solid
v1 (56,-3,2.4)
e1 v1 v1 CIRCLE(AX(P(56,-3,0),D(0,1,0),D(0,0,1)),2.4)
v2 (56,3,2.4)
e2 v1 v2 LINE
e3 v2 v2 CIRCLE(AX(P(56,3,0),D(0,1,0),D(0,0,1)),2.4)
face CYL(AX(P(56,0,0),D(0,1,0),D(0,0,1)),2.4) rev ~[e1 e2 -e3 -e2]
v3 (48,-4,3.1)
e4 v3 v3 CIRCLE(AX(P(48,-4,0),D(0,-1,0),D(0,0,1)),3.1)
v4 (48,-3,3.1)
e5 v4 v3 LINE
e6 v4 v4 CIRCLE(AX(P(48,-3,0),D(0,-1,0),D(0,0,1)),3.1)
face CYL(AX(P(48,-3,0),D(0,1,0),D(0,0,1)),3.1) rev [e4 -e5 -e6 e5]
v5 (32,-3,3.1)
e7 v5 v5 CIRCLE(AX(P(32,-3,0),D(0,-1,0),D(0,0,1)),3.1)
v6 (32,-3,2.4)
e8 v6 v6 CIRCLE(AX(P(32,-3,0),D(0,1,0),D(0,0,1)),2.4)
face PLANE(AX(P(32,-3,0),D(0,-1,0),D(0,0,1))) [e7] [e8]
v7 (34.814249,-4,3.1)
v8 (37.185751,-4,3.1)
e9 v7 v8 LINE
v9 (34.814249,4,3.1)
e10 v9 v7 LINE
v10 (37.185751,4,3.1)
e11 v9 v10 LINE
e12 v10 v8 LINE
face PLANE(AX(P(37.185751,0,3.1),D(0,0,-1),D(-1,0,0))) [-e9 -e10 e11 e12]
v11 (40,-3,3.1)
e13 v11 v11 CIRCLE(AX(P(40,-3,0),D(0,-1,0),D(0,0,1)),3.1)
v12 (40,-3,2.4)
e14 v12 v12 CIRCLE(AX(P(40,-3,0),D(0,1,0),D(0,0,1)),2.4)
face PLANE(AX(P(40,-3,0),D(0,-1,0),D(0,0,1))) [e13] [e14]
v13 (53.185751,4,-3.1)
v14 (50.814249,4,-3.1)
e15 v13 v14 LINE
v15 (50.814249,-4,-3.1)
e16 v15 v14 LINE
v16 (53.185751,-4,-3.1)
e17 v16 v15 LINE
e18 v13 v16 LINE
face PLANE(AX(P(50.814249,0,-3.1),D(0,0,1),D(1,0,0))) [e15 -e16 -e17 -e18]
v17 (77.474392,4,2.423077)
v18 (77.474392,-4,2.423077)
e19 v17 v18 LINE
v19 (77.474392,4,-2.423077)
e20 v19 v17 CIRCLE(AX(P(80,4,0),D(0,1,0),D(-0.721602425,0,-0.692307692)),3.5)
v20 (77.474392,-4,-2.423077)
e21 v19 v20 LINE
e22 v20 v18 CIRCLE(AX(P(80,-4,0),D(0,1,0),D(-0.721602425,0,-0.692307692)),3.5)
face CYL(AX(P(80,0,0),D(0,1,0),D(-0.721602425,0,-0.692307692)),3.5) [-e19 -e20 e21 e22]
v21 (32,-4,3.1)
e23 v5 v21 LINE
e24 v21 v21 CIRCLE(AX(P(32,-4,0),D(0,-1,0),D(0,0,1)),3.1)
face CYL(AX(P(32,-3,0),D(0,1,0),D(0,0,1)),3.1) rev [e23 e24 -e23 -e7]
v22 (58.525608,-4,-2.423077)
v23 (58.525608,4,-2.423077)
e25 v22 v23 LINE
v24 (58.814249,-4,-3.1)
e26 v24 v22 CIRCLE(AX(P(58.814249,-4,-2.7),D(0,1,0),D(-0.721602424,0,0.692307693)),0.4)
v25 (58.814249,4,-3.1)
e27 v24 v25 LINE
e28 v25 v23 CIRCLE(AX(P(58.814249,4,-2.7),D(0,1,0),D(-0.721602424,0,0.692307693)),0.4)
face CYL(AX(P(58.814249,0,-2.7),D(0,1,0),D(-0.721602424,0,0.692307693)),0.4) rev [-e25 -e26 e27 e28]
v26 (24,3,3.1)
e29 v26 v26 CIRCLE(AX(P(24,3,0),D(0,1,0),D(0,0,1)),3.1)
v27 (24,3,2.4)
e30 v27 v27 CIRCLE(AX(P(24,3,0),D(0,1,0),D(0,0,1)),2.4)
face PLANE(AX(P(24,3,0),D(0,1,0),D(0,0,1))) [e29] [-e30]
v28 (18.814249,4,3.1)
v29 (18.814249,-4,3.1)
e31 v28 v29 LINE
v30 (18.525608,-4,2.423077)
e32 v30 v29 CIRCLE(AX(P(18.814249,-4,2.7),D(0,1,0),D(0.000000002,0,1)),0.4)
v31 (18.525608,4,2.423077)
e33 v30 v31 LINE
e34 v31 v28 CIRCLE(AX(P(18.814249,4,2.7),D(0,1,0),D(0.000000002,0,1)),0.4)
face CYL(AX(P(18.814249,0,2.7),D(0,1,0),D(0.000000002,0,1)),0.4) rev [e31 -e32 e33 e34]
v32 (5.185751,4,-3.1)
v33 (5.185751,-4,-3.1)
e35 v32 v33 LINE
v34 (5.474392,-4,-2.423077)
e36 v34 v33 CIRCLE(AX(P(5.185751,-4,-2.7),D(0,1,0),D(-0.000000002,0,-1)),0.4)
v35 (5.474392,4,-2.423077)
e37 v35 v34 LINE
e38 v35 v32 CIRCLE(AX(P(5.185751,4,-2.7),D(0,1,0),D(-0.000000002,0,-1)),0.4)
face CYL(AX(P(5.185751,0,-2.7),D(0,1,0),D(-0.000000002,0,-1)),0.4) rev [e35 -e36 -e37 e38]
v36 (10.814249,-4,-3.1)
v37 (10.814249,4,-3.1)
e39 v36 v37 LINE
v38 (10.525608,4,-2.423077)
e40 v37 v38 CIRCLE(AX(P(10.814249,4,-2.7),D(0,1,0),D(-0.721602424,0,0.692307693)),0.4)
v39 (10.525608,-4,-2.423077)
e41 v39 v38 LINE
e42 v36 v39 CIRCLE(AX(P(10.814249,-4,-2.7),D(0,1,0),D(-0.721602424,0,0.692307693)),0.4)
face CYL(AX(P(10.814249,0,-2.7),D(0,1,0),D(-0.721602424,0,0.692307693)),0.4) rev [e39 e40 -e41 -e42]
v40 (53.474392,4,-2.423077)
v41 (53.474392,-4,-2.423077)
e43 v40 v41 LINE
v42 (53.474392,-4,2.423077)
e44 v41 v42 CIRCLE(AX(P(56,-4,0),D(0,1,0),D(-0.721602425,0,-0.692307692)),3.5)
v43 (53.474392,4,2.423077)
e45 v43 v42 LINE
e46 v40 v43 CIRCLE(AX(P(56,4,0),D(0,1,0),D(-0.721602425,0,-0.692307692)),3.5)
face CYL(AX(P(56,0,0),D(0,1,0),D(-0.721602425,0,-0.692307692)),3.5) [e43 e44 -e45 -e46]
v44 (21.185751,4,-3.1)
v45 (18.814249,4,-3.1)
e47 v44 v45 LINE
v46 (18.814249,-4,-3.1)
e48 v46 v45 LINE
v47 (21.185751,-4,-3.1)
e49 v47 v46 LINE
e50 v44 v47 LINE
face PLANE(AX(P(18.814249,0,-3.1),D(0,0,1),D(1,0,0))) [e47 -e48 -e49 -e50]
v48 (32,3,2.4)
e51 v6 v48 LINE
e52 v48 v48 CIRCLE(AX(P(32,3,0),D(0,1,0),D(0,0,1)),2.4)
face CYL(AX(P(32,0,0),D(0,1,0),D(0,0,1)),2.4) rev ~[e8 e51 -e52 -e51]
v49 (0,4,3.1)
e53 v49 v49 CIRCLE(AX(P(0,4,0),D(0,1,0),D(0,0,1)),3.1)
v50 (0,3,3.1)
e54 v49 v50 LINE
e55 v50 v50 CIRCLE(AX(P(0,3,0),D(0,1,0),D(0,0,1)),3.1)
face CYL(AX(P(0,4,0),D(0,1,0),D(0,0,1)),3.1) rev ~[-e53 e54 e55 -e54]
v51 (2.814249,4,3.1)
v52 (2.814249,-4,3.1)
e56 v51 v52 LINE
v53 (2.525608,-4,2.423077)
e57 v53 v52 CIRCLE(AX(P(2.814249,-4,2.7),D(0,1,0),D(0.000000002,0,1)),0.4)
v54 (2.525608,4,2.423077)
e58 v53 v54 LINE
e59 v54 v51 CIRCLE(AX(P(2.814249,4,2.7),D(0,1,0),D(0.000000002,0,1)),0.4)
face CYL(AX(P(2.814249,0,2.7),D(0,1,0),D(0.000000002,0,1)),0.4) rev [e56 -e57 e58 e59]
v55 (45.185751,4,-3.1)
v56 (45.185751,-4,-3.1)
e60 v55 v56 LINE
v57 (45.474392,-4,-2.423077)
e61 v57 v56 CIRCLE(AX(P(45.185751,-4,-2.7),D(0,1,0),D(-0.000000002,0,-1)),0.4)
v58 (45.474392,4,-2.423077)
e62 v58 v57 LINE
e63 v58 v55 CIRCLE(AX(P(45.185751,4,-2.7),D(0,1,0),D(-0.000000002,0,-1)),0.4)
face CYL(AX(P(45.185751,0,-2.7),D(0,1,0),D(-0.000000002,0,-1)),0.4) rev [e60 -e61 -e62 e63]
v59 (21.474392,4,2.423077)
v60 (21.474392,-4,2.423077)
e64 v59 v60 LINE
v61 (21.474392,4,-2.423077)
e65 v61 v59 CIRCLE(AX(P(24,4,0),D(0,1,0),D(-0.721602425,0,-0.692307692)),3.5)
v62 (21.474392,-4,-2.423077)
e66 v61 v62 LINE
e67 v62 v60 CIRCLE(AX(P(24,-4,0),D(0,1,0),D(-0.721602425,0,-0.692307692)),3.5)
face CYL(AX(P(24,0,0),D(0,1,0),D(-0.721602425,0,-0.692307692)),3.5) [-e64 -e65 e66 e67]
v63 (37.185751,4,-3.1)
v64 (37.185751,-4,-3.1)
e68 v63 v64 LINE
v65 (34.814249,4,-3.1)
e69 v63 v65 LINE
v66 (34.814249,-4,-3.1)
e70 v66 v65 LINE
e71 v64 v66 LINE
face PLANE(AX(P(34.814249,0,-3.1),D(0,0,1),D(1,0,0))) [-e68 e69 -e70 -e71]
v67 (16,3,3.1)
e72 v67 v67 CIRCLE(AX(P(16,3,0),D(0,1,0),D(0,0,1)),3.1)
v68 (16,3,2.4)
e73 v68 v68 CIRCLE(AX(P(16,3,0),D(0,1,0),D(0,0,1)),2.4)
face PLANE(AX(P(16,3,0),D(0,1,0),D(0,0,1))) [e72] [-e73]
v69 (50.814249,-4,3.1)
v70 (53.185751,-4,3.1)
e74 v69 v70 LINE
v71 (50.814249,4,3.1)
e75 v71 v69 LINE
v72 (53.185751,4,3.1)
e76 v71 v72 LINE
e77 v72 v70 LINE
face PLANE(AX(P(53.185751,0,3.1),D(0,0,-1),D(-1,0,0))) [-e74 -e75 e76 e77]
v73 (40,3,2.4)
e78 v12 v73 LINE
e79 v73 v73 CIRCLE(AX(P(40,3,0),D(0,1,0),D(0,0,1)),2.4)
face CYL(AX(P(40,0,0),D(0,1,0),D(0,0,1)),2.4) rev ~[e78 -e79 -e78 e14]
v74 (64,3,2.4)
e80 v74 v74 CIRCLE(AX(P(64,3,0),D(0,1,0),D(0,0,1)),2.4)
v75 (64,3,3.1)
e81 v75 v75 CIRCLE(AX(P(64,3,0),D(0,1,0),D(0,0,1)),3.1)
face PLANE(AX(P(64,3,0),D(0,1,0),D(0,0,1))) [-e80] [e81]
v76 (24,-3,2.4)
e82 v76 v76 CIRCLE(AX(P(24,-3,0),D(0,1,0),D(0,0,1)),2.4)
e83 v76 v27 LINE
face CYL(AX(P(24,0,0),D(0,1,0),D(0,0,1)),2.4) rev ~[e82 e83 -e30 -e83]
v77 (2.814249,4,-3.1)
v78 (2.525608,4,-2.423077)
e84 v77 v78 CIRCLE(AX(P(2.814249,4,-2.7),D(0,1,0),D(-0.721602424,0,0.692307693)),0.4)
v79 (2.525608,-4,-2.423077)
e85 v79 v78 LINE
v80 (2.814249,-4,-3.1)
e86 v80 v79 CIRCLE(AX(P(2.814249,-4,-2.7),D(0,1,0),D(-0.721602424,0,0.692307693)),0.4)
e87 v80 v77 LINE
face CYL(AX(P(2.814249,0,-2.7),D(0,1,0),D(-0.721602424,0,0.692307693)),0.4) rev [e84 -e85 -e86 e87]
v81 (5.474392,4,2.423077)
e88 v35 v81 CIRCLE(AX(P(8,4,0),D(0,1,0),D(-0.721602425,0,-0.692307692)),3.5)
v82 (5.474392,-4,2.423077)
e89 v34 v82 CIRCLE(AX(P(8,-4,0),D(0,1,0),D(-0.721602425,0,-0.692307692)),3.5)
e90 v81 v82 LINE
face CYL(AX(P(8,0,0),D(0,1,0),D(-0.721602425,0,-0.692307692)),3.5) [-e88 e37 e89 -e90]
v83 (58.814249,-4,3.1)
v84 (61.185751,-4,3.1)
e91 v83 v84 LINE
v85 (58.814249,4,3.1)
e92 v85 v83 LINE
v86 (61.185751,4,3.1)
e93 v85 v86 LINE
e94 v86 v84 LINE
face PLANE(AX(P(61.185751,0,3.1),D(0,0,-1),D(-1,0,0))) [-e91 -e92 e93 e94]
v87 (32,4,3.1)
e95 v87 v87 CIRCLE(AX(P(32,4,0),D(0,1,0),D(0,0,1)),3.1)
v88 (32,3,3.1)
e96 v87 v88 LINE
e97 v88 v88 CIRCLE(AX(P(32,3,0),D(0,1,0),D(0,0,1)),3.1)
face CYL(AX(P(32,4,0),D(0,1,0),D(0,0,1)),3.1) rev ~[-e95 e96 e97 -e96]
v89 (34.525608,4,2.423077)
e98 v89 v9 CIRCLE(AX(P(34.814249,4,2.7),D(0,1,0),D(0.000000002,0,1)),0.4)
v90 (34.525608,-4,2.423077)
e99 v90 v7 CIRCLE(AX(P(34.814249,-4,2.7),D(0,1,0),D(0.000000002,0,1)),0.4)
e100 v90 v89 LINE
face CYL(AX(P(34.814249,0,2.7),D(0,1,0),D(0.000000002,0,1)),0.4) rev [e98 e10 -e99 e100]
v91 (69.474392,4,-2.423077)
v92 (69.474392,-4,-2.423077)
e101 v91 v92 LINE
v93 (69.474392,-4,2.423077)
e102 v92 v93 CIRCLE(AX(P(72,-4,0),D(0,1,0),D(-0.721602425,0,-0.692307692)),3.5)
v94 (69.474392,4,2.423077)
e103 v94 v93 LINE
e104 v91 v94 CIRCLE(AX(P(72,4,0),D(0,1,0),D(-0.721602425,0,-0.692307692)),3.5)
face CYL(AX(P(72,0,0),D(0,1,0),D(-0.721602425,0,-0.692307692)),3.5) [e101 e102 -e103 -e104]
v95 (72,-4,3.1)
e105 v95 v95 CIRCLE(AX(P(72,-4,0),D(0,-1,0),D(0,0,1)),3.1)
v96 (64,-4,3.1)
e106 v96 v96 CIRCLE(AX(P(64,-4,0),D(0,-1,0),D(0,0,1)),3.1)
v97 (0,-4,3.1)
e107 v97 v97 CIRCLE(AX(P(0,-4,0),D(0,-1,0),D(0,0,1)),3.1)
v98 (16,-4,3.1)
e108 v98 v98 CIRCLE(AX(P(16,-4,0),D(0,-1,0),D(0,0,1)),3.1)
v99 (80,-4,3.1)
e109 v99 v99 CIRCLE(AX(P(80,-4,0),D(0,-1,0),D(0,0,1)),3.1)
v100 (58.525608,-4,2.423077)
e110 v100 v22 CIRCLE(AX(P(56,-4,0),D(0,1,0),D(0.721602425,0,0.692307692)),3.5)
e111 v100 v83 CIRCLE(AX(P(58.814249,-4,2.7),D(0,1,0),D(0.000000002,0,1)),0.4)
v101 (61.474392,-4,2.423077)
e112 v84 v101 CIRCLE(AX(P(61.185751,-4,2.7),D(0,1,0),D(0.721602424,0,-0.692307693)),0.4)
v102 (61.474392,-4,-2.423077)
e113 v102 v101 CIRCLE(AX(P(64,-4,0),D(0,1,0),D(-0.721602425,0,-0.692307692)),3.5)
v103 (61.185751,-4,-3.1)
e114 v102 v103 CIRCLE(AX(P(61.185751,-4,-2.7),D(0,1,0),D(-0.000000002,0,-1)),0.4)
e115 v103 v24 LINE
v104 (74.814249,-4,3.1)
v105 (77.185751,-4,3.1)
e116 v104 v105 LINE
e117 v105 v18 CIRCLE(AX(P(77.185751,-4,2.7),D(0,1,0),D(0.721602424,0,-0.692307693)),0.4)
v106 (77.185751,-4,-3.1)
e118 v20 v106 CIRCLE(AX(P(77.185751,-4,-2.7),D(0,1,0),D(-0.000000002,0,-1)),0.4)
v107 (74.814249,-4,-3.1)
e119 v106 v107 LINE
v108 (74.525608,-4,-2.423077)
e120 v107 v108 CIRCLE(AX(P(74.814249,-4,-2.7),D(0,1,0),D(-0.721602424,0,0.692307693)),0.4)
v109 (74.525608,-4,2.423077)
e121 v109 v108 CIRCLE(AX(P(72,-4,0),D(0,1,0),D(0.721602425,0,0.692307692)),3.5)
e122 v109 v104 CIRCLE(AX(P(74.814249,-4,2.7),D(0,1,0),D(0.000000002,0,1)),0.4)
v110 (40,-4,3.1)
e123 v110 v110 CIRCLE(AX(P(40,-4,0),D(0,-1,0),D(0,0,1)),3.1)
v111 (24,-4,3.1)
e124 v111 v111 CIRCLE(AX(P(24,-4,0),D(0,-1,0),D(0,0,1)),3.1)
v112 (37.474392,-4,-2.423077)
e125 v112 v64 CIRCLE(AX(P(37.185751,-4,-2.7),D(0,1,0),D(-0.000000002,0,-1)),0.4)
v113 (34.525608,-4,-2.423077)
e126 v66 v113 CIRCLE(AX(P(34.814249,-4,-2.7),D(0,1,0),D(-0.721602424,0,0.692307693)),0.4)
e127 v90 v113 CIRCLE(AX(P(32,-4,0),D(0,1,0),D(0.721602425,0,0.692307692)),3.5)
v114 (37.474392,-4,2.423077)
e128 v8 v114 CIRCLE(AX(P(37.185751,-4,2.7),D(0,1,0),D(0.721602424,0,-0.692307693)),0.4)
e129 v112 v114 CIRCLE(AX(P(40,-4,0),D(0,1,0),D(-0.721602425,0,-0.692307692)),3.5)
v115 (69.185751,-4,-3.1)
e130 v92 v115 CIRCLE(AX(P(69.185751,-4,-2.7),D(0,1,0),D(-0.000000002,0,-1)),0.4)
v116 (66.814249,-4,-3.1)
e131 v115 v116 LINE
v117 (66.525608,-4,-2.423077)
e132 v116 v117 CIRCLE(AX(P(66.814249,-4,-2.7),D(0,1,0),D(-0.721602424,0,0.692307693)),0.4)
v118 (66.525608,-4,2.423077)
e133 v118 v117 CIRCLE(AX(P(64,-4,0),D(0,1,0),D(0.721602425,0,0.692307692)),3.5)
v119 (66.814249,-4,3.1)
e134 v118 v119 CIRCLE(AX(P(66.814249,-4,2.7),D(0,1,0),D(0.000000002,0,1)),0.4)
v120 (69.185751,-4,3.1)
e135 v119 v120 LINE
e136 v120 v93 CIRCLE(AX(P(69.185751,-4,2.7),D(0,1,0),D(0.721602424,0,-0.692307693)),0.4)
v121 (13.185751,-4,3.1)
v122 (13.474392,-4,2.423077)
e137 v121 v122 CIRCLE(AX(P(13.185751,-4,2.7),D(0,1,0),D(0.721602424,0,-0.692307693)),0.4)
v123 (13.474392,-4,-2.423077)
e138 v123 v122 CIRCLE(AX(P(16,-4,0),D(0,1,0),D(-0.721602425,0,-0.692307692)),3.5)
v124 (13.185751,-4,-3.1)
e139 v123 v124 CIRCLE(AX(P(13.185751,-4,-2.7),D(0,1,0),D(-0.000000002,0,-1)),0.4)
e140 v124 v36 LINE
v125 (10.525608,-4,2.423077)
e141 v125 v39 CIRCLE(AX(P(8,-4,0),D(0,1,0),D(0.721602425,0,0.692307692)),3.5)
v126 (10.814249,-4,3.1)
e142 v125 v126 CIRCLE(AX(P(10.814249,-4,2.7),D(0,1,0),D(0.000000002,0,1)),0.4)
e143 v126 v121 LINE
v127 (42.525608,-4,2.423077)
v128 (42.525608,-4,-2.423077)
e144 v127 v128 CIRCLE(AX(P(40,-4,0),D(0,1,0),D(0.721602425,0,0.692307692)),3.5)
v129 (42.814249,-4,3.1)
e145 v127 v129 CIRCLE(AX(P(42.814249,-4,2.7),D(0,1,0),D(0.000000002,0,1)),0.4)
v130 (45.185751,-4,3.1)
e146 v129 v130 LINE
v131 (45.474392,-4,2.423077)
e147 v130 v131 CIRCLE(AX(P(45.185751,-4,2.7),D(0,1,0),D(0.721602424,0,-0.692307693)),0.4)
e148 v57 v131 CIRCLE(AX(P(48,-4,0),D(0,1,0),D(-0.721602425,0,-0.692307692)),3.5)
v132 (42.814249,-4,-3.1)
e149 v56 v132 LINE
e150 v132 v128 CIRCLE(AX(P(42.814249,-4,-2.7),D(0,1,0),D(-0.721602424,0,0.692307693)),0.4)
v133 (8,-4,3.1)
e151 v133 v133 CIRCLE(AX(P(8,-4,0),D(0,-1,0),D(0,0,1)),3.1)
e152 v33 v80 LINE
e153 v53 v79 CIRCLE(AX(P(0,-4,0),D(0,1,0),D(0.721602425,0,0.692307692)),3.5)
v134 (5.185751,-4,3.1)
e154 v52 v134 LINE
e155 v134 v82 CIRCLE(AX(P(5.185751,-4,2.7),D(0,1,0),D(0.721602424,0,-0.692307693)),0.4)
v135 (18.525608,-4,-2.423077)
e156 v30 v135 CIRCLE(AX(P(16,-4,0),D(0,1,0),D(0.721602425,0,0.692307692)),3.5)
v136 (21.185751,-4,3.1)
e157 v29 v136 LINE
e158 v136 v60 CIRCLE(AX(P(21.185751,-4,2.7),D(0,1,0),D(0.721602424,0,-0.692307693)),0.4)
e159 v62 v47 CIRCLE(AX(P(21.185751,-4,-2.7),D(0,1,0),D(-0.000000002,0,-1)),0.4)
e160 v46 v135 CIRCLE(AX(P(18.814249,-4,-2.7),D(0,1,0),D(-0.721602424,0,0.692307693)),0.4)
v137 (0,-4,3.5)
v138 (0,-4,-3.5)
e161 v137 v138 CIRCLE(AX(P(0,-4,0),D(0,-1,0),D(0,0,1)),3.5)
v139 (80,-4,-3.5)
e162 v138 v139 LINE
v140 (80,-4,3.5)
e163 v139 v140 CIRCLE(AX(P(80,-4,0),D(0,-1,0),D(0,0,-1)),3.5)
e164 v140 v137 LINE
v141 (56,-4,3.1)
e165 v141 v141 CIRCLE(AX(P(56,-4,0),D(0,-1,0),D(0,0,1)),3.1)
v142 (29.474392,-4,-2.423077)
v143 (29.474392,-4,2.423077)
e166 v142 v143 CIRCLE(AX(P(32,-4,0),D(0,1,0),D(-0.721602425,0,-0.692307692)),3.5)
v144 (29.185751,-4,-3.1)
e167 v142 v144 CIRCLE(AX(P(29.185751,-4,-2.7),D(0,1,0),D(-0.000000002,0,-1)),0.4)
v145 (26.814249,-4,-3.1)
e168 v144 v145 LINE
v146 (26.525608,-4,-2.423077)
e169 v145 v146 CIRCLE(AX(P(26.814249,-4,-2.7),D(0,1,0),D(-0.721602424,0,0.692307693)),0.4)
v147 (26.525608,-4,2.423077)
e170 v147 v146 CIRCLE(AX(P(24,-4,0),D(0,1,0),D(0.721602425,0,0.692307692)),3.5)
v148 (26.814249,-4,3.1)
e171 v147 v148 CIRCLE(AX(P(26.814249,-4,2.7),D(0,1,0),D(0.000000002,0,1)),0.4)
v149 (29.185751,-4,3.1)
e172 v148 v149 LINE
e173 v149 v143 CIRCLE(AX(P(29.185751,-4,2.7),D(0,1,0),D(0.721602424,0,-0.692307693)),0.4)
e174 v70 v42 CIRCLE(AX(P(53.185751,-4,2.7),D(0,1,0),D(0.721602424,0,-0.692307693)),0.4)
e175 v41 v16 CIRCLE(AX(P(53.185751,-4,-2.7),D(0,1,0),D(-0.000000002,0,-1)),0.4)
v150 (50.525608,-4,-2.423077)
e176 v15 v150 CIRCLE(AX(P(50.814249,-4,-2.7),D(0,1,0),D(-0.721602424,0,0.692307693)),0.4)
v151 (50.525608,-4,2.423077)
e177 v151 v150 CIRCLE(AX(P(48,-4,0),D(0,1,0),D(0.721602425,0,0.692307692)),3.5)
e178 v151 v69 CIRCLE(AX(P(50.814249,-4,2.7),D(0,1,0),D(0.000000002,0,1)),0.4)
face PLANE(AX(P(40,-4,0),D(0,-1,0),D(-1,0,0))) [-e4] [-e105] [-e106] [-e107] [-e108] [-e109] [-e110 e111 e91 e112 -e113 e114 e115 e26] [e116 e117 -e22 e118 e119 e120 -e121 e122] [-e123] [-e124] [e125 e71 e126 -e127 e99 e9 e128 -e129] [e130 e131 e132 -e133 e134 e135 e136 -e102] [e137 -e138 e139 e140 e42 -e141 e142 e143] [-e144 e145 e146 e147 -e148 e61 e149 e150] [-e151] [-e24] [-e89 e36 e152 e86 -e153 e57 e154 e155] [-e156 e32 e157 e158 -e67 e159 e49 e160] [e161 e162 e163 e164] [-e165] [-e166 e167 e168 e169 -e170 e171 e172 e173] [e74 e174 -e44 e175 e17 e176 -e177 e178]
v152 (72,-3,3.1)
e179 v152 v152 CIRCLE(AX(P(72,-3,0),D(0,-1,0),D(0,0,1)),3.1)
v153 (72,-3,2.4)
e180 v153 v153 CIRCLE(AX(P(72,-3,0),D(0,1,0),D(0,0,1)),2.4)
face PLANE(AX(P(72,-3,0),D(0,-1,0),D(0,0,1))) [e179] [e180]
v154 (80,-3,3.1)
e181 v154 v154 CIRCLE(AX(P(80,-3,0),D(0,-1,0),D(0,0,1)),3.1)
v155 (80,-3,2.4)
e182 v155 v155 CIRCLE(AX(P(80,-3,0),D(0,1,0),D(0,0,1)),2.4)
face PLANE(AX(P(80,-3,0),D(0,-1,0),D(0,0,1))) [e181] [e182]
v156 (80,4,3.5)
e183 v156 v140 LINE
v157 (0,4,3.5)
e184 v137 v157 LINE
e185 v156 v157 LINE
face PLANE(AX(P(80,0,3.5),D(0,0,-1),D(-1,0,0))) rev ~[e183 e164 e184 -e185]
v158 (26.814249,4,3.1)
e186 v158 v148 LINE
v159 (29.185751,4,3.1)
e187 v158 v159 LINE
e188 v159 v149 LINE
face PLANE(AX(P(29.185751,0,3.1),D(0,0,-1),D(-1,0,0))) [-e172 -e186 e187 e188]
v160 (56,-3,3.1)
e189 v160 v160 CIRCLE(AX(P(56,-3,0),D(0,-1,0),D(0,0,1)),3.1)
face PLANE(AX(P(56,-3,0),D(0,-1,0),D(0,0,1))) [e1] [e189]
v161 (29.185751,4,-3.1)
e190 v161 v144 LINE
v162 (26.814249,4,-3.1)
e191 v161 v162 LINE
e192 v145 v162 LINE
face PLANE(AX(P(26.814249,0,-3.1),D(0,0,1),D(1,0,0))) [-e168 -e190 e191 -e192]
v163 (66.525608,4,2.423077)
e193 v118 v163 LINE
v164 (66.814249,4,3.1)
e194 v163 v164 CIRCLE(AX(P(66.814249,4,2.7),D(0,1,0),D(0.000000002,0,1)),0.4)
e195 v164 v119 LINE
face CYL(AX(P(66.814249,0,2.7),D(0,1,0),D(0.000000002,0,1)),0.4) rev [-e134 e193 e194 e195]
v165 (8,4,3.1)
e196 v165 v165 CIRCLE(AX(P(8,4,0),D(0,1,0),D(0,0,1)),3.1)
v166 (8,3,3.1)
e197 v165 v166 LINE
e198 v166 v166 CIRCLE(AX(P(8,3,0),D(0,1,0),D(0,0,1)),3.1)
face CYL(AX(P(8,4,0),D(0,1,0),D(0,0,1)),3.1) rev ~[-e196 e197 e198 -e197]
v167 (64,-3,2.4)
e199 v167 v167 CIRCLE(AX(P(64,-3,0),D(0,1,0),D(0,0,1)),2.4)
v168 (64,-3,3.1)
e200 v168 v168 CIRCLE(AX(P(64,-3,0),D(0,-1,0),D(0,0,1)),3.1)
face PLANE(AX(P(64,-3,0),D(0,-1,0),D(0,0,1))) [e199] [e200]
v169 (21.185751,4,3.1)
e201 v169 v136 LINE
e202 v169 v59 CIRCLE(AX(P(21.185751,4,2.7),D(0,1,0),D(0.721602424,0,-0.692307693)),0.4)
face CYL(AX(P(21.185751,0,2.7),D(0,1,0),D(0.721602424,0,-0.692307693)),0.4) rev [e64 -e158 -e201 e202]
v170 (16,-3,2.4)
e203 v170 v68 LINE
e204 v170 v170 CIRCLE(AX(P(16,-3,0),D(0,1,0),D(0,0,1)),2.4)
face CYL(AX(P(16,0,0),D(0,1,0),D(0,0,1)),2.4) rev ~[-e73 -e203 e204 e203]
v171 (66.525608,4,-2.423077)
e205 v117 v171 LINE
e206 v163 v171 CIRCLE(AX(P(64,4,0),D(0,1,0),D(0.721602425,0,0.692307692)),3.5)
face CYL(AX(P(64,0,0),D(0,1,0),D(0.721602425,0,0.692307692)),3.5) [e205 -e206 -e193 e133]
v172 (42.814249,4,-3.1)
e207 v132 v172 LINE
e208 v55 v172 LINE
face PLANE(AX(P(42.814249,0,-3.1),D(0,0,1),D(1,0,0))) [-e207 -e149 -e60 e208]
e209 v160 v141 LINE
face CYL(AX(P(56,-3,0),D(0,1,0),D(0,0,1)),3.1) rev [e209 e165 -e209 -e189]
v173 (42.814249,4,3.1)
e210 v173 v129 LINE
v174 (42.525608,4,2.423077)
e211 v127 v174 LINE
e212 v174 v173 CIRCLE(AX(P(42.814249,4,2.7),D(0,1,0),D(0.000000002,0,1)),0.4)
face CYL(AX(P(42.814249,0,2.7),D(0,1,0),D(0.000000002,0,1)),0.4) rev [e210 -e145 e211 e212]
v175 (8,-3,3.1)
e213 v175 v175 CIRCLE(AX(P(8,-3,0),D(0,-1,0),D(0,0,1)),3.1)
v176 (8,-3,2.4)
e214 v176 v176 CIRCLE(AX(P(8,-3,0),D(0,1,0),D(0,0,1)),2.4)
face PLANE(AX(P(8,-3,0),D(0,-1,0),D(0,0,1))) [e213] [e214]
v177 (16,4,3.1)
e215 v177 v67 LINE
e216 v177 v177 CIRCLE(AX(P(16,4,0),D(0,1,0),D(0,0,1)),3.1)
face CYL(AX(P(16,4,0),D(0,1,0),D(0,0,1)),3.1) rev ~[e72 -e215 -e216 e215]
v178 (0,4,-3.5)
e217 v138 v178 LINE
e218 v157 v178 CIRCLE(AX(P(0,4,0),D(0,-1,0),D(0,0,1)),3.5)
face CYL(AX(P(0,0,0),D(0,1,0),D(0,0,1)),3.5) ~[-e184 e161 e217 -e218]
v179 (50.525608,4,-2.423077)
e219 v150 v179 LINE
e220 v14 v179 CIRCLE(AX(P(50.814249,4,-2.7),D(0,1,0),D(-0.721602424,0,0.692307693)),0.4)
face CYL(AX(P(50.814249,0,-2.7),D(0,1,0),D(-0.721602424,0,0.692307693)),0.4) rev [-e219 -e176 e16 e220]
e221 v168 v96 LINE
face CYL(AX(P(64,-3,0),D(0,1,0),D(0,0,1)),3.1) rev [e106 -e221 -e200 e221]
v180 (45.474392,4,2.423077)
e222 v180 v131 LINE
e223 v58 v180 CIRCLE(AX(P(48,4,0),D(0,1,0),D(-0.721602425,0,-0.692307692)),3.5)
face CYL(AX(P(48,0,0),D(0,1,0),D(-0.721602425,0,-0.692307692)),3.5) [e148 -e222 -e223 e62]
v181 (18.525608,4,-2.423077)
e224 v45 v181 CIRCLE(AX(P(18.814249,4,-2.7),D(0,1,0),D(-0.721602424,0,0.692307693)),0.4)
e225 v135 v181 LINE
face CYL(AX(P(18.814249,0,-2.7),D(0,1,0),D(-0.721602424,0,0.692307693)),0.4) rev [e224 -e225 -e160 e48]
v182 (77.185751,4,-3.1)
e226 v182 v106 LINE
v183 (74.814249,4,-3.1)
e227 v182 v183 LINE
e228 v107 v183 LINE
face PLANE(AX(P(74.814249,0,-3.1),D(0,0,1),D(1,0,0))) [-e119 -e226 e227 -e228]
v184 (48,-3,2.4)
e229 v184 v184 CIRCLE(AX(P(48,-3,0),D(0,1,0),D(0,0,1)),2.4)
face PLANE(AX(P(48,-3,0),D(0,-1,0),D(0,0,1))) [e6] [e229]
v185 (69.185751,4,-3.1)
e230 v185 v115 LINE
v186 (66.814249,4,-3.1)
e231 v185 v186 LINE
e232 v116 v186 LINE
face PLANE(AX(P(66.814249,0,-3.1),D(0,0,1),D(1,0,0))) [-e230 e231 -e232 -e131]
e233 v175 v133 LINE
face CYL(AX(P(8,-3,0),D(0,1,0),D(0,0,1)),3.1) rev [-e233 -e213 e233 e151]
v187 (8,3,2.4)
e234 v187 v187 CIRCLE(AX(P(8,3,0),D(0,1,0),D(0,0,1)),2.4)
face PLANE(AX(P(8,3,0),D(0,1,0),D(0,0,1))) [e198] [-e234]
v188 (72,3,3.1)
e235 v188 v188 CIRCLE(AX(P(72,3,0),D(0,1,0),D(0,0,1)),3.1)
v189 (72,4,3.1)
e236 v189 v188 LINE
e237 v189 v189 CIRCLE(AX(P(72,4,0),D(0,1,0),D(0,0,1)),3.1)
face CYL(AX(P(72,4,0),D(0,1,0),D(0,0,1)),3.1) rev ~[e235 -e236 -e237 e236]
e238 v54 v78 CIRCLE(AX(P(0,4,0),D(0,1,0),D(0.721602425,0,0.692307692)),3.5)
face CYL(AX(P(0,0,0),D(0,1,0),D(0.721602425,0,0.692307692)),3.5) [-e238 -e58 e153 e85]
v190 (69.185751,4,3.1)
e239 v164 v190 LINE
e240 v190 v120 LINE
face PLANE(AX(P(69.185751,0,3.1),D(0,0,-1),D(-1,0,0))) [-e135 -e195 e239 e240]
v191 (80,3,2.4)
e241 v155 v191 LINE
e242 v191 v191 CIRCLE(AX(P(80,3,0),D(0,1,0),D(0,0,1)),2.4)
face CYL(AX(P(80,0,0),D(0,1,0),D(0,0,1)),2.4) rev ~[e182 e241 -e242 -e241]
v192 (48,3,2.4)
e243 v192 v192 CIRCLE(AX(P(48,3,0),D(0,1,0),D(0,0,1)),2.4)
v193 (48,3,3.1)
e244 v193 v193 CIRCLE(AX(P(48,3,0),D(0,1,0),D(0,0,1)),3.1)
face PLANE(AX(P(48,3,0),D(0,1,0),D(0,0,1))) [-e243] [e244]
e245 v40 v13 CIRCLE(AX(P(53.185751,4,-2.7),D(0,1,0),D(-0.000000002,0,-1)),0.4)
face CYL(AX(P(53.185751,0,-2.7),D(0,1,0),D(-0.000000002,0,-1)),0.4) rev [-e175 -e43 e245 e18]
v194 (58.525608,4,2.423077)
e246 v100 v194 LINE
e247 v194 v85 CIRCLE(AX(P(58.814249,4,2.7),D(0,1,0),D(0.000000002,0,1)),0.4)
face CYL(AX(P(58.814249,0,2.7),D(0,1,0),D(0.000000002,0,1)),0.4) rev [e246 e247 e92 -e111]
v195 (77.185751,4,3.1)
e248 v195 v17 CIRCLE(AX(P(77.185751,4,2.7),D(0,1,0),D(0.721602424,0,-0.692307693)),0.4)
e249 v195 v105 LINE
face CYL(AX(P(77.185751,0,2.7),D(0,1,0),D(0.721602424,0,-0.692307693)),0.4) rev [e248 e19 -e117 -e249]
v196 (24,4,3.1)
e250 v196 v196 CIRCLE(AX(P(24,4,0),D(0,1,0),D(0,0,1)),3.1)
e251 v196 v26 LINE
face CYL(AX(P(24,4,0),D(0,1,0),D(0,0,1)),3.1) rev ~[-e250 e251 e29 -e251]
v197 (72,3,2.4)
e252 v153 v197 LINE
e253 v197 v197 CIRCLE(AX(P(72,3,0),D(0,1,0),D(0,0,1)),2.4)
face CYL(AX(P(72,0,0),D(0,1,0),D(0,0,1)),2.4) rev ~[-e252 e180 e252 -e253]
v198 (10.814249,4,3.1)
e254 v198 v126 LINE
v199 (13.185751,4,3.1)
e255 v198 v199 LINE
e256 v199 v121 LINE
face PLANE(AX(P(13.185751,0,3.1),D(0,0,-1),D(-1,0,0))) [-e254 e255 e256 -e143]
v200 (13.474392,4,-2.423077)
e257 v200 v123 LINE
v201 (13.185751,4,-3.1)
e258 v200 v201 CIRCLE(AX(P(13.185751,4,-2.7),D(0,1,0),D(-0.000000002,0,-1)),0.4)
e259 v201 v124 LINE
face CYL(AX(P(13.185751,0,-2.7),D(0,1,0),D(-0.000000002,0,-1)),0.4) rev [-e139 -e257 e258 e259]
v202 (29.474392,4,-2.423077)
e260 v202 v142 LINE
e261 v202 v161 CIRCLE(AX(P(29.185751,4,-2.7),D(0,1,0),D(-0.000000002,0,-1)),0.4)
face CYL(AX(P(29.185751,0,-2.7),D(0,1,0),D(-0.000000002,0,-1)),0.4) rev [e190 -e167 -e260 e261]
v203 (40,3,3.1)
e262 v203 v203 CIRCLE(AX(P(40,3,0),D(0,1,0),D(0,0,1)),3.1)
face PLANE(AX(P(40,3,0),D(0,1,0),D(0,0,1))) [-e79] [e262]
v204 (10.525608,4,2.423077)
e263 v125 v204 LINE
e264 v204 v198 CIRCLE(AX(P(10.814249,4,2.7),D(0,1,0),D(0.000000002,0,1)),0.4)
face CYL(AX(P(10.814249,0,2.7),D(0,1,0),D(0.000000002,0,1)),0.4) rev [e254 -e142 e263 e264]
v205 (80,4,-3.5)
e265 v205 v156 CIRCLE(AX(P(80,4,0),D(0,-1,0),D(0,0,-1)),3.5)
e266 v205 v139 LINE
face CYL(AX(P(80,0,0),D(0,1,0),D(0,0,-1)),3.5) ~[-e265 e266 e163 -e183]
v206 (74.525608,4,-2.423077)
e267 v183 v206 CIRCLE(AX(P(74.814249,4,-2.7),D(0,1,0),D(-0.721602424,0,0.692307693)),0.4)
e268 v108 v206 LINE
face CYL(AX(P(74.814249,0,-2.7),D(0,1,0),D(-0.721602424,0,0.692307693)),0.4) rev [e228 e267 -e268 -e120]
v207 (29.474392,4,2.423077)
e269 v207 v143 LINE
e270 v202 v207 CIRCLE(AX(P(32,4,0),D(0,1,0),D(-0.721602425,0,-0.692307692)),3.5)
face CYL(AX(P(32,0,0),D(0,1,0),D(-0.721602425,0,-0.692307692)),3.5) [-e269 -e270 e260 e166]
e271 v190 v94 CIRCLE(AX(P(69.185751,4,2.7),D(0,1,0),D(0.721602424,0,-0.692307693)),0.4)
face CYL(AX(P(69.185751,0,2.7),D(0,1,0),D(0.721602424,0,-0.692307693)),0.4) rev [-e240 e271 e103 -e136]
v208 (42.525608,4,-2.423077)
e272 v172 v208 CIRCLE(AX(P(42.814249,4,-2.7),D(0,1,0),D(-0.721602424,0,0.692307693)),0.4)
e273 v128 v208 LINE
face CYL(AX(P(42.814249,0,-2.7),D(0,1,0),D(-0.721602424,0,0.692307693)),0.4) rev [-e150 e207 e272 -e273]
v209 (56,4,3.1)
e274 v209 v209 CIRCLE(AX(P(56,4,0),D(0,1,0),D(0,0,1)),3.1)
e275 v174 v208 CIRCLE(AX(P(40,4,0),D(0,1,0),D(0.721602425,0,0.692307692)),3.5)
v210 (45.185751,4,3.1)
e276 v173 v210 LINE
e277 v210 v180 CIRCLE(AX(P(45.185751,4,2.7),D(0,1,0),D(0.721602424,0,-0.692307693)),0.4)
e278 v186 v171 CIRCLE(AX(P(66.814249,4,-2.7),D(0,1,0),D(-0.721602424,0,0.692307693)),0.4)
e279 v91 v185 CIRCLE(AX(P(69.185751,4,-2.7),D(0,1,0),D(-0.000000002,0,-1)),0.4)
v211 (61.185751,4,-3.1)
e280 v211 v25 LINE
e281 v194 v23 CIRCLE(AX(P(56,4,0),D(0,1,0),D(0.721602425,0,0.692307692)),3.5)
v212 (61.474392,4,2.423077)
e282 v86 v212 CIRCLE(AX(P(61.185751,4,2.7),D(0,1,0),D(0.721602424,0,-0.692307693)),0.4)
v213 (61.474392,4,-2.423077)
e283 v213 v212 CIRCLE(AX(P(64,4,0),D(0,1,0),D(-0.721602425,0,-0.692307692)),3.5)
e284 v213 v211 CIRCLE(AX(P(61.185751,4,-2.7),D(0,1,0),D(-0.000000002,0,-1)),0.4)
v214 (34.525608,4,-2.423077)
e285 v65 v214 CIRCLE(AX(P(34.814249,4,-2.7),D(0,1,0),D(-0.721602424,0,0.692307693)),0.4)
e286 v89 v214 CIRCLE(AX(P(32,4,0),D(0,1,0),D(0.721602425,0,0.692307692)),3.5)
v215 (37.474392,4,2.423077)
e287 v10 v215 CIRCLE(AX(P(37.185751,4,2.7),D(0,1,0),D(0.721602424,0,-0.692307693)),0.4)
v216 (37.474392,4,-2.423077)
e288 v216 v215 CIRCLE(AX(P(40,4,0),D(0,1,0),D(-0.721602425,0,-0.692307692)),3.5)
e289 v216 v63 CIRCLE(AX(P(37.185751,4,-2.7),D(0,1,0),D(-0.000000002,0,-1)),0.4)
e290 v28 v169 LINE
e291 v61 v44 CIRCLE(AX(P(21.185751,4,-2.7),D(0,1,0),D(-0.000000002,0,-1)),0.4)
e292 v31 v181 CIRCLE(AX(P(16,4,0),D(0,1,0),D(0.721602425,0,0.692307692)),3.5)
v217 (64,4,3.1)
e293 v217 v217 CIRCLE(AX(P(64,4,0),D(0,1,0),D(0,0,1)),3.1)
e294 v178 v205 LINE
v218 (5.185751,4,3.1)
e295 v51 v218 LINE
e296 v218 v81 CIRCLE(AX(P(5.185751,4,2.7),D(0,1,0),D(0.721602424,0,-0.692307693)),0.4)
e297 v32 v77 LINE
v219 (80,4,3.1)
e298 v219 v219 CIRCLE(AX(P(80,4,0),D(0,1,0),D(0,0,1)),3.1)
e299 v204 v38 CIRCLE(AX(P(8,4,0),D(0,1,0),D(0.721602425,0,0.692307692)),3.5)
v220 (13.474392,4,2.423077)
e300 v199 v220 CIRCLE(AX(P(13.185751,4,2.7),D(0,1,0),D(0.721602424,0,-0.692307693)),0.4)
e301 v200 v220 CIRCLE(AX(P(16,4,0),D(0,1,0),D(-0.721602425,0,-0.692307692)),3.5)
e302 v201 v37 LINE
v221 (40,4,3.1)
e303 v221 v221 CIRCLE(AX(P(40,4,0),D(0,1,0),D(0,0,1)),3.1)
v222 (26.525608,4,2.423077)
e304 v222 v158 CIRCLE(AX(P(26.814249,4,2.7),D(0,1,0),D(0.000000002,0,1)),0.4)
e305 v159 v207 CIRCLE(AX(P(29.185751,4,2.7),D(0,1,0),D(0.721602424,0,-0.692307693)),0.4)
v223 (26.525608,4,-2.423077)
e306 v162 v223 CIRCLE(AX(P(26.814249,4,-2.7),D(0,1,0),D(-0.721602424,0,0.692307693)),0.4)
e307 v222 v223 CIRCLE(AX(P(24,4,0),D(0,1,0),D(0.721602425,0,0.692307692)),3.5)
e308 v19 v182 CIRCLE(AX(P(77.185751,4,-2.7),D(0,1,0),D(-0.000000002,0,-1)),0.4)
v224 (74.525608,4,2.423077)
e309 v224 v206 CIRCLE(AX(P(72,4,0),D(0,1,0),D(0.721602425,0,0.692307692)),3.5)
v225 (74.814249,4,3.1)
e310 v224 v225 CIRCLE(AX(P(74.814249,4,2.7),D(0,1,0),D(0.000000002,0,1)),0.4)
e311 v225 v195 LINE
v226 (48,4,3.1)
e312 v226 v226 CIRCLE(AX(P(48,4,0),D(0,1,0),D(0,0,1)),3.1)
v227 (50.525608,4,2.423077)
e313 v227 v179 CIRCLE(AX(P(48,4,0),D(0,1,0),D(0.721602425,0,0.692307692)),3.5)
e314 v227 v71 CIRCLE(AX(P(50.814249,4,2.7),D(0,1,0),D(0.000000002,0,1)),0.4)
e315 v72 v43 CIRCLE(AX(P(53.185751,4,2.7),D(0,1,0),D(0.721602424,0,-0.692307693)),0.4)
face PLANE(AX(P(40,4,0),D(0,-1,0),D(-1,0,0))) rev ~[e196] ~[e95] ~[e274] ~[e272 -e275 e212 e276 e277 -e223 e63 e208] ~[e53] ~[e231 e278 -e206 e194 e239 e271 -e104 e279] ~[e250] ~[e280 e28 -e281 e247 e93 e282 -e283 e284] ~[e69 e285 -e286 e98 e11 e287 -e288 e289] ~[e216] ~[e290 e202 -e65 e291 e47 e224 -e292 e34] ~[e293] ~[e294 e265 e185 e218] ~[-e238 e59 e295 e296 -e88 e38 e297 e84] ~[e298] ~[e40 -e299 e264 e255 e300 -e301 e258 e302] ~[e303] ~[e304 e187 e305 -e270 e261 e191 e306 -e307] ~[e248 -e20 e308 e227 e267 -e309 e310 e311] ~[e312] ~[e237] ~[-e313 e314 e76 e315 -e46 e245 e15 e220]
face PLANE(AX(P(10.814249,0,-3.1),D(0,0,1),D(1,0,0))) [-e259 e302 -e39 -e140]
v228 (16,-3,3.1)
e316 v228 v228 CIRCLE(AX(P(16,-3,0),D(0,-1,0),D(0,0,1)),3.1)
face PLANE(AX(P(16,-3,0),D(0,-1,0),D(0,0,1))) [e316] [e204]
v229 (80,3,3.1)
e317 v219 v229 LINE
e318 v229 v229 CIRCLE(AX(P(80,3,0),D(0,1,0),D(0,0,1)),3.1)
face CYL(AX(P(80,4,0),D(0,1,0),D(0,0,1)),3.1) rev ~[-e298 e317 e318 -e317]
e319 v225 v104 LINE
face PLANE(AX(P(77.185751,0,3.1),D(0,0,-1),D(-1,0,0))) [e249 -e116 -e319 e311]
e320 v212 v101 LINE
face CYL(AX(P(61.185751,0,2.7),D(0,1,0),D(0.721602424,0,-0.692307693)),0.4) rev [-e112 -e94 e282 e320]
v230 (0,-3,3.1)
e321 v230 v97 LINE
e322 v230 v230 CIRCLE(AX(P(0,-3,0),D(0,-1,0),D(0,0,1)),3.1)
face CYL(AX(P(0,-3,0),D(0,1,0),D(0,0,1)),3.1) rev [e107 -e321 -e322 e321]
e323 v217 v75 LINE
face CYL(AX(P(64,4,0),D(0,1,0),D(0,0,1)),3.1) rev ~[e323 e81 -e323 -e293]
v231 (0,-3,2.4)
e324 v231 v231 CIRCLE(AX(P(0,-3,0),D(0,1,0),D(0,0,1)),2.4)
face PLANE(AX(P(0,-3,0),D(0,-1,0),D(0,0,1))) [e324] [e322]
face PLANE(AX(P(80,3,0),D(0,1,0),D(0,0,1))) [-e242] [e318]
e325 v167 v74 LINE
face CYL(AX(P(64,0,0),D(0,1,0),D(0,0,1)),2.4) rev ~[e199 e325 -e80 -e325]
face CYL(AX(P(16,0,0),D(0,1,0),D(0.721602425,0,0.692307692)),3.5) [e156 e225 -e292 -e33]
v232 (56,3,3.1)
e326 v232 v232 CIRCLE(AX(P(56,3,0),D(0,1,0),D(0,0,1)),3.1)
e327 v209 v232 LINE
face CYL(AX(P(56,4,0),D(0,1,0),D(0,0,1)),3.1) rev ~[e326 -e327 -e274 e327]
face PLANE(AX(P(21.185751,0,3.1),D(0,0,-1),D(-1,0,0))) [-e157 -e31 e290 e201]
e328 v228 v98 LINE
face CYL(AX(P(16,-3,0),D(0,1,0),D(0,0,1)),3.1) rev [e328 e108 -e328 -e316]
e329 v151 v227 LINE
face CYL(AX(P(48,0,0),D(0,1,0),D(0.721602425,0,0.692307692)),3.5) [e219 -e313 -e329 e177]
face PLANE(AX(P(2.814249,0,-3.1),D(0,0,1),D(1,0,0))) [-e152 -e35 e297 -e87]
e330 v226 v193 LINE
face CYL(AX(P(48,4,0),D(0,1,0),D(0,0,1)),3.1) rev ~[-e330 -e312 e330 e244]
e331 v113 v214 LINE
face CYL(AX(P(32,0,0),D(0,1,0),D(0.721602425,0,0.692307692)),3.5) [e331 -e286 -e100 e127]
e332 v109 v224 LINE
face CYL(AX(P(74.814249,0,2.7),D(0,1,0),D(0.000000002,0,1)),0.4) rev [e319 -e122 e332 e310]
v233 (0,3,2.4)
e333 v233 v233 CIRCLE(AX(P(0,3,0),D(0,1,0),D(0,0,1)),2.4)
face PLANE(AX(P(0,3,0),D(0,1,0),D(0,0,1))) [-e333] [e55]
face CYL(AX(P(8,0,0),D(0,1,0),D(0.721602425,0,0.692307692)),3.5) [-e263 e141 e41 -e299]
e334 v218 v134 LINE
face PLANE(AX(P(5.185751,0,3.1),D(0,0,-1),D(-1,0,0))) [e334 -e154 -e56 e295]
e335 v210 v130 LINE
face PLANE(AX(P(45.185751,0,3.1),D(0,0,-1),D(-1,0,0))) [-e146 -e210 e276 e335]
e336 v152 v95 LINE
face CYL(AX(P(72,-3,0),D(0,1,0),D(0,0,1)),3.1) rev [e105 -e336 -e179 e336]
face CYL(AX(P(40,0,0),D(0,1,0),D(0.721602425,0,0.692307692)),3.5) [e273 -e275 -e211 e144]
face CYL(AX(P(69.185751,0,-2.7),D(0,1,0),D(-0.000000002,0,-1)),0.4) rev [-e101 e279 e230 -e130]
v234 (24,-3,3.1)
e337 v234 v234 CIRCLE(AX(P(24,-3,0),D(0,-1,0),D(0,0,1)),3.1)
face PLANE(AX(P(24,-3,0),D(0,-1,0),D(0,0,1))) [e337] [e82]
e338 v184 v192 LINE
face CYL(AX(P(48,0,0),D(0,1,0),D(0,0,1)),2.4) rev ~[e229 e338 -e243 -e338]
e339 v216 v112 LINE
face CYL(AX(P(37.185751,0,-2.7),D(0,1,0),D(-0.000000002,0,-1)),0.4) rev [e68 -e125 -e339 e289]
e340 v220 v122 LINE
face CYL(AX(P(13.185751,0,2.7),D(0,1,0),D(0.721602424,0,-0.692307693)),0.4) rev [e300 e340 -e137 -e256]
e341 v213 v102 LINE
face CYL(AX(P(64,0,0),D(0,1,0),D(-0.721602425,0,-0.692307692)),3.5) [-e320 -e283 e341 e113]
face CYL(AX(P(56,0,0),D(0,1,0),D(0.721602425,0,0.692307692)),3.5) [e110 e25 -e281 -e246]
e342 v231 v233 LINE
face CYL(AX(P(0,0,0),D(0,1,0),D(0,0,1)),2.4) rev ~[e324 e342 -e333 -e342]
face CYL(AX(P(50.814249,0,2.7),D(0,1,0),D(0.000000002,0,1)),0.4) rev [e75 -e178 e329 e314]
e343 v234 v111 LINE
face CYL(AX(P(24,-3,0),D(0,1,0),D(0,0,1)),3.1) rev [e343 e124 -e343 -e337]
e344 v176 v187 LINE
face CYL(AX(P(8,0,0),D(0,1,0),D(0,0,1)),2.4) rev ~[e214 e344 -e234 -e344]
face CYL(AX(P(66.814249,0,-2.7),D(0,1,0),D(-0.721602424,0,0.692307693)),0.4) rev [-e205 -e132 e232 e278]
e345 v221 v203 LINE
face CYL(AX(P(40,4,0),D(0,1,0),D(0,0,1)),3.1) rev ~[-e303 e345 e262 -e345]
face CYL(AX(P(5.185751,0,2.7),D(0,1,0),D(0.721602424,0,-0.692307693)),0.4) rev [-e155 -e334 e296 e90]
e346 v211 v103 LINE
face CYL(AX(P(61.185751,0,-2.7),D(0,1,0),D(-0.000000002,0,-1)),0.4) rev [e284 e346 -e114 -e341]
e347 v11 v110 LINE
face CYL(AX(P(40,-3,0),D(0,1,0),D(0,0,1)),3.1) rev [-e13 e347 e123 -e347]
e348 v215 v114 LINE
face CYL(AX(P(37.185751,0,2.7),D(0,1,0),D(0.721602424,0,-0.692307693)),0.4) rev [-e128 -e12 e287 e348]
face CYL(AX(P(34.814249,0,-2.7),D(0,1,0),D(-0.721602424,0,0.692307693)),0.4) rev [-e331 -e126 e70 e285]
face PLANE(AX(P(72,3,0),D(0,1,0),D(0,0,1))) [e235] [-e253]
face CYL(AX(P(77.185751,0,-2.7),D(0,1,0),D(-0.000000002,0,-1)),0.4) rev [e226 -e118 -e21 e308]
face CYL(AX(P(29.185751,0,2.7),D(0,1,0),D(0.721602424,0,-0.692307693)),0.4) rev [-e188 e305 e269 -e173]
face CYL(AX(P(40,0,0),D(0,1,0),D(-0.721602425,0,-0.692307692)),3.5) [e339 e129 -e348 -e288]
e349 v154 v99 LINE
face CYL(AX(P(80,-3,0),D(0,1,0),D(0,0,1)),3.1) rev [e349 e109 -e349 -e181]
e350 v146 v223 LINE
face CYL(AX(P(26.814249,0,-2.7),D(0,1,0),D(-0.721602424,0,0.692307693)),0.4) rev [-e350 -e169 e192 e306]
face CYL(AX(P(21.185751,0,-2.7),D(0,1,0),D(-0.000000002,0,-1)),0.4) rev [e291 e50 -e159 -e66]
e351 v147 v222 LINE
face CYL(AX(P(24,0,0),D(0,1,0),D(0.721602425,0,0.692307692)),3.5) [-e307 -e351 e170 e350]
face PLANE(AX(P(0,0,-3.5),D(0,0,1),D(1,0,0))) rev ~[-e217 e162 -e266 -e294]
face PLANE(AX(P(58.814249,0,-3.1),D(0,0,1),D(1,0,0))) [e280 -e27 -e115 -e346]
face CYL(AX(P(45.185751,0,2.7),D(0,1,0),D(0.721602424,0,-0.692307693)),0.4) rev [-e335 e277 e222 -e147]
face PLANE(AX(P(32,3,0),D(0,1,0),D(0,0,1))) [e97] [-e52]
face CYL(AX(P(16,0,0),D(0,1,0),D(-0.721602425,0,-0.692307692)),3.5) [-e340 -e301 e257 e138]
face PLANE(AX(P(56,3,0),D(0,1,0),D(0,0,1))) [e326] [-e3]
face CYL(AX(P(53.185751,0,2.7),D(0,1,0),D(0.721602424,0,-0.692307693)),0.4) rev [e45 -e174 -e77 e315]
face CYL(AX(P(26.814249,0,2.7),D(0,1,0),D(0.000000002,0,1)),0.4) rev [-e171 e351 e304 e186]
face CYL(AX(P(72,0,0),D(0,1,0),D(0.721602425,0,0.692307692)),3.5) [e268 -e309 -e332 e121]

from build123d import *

# Parameters (mm, degrees)
BOSS_EXTRUDE1_DEPTH = 4
SKETCH2_R           = 3.1
CUT_EXTRUDE1_DEPTH  = 1
CUT_EXTRUDE2_START  = -1
SKETCH3_R           = 3.1
CUT_EXTRUDE2_DEPTH  = 1
SKETCH4_R           = 2.4
CUT_EXTRUDE3_DEPTH  = 84.668990672
LPATTERN1_COUNT     = 11
LPATTERN1_PITCH     = 8
CUT_EXTRUDE4_DEPTH  = 84.668990672
LPATTERN2_COUNT     = 10
LPATTERN2_PITCH     = 8


with BuildPart() as part:
    # Sketch1 → Boss-Extrude1 (new, symmetric)
    with BuildSketch(Plane(origin=(0, 0, 0), x_dir=(1, 0, 0), z_dir=(0, 1, 0))):
        with BuildLine():
            Line((0, 3.5), (80, 3.5))
            ThreePointArc((80, 3.5), (83.5, 0), (80, -3.5))
            Line((80, -3.5), (0, -3.5))
            ThreePointArc((0, -3.5), (-3.5, 0), (0, 3.5))
        make_face()
    extrude(amount=BOSS_EXTRUDE1_DEPTH, both=True)

    # Sketch2 → Cut-Extrude1 (cut)
    with BuildSketch(Plane(origin=(0, 4, 0), x_dir=(1, 0, 0), z_dir=(0, 1, 0))):
        with Locations(Location((0, 0, 0), (0, 0, 270))):
            Circle(SKETCH2_R)
    cut_extrude1 = extrude(amount=-CUT_EXTRUDE1_DEPTH, mode=Mode.SUBTRACT)

    # Sketch3 → Cut-Extrude2 (cut)
    with BuildSketch(Plane(origin=(0, -4, 0), x_dir=(-1, 0, 0), z_dir=(0, -1, 0)).offset(CUT_EXTRUDE2_START)):
        with Locations(Location((0, 0, 0), (0, 0, 270))):
            Circle(SKETCH3_R)
    cut_extrude2 = extrude(amount=CUT_EXTRUDE2_DEPTH, mode=Mode.SUBTRACT)

    # Sketch4 → Cut-Extrude3 (cut, symmetric)
    with BuildSketch(Plane(origin=(0, 0, 0), x_dir=(1, 0, 0), z_dir=(0, 1, 0))):
        with Locations(Location((0, 0, 0), (0, 0, 270))):
            Circle(SKETCH4_R)
    cut_extrude3 = extrude(amount=CUT_EXTRUDE3_DEPTH, both=True, mode=Mode.SUBTRACT)

    # LPattern1: Cut-Extrude1, Cut-Extrude2, Cut-Extrude3 ×11
    with Locations(*[(i * LPATTERN1_PITCH, 0, 0) for i in range(1, LPATTERN1_COUNT)]):
        add(cut_extrude1, mode=Mode.SUBTRACT)
        add(cut_extrude2, mode=Mode.SUBTRACT)
        add(cut_extrude3, mode=Mode.SUBTRACT)

    # Sketch5 → Cut-Extrude4 (cut, symmetric)
    with BuildSketch(Plane(origin=(0, 0, 0), x_dir=(1, 0, 0), z_dir=(0, 1, 0))):
        with BuildLine():
            Line((2.814249456, 3.1), (5.185750544, 3.1))
            ThreePointArc((5.185750544, 3.1), (5.553697029, 2.856892908), (5.474391514, 2.423076923))
            ThreePointArc((5.474391514, 2.423076923), (4.5, 0), (5.474391514, -2.423076923))
            ThreePointArc((5.474391514, -2.423076923), (5.553697029, -2.856892908), (5.185750544, -3.1))
            Line((5.185750544, -3.1), (2.814249456, -3.1))
            ThreePointArc((2.814249456, -3.1), (2.446302971, -2.856892908), (2.525608486, -2.423076923))
            ThreePointArc((2.525608486, -2.423076923), (3.5, 0), (2.525608486, 2.423076923))
            ThreePointArc((2.525608486, 2.423076923), (2.446302971, 2.856892908), (2.814249456, 3.1))
        make_face()
    cut_extrude4 = extrude(amount=CUT_EXTRUDE4_DEPTH, both=True, mode=Mode.SUBTRACT)

    # LPattern2: Cut-Extrude4 ×10
    with Locations(*[(i * LPATTERN2_PITCH, 0, 0) for i in range(1, LPATTERN2_COUNT)]):
        add(cut_extrude4, mode=Mode.SUBTRACT)


solid = part.part
